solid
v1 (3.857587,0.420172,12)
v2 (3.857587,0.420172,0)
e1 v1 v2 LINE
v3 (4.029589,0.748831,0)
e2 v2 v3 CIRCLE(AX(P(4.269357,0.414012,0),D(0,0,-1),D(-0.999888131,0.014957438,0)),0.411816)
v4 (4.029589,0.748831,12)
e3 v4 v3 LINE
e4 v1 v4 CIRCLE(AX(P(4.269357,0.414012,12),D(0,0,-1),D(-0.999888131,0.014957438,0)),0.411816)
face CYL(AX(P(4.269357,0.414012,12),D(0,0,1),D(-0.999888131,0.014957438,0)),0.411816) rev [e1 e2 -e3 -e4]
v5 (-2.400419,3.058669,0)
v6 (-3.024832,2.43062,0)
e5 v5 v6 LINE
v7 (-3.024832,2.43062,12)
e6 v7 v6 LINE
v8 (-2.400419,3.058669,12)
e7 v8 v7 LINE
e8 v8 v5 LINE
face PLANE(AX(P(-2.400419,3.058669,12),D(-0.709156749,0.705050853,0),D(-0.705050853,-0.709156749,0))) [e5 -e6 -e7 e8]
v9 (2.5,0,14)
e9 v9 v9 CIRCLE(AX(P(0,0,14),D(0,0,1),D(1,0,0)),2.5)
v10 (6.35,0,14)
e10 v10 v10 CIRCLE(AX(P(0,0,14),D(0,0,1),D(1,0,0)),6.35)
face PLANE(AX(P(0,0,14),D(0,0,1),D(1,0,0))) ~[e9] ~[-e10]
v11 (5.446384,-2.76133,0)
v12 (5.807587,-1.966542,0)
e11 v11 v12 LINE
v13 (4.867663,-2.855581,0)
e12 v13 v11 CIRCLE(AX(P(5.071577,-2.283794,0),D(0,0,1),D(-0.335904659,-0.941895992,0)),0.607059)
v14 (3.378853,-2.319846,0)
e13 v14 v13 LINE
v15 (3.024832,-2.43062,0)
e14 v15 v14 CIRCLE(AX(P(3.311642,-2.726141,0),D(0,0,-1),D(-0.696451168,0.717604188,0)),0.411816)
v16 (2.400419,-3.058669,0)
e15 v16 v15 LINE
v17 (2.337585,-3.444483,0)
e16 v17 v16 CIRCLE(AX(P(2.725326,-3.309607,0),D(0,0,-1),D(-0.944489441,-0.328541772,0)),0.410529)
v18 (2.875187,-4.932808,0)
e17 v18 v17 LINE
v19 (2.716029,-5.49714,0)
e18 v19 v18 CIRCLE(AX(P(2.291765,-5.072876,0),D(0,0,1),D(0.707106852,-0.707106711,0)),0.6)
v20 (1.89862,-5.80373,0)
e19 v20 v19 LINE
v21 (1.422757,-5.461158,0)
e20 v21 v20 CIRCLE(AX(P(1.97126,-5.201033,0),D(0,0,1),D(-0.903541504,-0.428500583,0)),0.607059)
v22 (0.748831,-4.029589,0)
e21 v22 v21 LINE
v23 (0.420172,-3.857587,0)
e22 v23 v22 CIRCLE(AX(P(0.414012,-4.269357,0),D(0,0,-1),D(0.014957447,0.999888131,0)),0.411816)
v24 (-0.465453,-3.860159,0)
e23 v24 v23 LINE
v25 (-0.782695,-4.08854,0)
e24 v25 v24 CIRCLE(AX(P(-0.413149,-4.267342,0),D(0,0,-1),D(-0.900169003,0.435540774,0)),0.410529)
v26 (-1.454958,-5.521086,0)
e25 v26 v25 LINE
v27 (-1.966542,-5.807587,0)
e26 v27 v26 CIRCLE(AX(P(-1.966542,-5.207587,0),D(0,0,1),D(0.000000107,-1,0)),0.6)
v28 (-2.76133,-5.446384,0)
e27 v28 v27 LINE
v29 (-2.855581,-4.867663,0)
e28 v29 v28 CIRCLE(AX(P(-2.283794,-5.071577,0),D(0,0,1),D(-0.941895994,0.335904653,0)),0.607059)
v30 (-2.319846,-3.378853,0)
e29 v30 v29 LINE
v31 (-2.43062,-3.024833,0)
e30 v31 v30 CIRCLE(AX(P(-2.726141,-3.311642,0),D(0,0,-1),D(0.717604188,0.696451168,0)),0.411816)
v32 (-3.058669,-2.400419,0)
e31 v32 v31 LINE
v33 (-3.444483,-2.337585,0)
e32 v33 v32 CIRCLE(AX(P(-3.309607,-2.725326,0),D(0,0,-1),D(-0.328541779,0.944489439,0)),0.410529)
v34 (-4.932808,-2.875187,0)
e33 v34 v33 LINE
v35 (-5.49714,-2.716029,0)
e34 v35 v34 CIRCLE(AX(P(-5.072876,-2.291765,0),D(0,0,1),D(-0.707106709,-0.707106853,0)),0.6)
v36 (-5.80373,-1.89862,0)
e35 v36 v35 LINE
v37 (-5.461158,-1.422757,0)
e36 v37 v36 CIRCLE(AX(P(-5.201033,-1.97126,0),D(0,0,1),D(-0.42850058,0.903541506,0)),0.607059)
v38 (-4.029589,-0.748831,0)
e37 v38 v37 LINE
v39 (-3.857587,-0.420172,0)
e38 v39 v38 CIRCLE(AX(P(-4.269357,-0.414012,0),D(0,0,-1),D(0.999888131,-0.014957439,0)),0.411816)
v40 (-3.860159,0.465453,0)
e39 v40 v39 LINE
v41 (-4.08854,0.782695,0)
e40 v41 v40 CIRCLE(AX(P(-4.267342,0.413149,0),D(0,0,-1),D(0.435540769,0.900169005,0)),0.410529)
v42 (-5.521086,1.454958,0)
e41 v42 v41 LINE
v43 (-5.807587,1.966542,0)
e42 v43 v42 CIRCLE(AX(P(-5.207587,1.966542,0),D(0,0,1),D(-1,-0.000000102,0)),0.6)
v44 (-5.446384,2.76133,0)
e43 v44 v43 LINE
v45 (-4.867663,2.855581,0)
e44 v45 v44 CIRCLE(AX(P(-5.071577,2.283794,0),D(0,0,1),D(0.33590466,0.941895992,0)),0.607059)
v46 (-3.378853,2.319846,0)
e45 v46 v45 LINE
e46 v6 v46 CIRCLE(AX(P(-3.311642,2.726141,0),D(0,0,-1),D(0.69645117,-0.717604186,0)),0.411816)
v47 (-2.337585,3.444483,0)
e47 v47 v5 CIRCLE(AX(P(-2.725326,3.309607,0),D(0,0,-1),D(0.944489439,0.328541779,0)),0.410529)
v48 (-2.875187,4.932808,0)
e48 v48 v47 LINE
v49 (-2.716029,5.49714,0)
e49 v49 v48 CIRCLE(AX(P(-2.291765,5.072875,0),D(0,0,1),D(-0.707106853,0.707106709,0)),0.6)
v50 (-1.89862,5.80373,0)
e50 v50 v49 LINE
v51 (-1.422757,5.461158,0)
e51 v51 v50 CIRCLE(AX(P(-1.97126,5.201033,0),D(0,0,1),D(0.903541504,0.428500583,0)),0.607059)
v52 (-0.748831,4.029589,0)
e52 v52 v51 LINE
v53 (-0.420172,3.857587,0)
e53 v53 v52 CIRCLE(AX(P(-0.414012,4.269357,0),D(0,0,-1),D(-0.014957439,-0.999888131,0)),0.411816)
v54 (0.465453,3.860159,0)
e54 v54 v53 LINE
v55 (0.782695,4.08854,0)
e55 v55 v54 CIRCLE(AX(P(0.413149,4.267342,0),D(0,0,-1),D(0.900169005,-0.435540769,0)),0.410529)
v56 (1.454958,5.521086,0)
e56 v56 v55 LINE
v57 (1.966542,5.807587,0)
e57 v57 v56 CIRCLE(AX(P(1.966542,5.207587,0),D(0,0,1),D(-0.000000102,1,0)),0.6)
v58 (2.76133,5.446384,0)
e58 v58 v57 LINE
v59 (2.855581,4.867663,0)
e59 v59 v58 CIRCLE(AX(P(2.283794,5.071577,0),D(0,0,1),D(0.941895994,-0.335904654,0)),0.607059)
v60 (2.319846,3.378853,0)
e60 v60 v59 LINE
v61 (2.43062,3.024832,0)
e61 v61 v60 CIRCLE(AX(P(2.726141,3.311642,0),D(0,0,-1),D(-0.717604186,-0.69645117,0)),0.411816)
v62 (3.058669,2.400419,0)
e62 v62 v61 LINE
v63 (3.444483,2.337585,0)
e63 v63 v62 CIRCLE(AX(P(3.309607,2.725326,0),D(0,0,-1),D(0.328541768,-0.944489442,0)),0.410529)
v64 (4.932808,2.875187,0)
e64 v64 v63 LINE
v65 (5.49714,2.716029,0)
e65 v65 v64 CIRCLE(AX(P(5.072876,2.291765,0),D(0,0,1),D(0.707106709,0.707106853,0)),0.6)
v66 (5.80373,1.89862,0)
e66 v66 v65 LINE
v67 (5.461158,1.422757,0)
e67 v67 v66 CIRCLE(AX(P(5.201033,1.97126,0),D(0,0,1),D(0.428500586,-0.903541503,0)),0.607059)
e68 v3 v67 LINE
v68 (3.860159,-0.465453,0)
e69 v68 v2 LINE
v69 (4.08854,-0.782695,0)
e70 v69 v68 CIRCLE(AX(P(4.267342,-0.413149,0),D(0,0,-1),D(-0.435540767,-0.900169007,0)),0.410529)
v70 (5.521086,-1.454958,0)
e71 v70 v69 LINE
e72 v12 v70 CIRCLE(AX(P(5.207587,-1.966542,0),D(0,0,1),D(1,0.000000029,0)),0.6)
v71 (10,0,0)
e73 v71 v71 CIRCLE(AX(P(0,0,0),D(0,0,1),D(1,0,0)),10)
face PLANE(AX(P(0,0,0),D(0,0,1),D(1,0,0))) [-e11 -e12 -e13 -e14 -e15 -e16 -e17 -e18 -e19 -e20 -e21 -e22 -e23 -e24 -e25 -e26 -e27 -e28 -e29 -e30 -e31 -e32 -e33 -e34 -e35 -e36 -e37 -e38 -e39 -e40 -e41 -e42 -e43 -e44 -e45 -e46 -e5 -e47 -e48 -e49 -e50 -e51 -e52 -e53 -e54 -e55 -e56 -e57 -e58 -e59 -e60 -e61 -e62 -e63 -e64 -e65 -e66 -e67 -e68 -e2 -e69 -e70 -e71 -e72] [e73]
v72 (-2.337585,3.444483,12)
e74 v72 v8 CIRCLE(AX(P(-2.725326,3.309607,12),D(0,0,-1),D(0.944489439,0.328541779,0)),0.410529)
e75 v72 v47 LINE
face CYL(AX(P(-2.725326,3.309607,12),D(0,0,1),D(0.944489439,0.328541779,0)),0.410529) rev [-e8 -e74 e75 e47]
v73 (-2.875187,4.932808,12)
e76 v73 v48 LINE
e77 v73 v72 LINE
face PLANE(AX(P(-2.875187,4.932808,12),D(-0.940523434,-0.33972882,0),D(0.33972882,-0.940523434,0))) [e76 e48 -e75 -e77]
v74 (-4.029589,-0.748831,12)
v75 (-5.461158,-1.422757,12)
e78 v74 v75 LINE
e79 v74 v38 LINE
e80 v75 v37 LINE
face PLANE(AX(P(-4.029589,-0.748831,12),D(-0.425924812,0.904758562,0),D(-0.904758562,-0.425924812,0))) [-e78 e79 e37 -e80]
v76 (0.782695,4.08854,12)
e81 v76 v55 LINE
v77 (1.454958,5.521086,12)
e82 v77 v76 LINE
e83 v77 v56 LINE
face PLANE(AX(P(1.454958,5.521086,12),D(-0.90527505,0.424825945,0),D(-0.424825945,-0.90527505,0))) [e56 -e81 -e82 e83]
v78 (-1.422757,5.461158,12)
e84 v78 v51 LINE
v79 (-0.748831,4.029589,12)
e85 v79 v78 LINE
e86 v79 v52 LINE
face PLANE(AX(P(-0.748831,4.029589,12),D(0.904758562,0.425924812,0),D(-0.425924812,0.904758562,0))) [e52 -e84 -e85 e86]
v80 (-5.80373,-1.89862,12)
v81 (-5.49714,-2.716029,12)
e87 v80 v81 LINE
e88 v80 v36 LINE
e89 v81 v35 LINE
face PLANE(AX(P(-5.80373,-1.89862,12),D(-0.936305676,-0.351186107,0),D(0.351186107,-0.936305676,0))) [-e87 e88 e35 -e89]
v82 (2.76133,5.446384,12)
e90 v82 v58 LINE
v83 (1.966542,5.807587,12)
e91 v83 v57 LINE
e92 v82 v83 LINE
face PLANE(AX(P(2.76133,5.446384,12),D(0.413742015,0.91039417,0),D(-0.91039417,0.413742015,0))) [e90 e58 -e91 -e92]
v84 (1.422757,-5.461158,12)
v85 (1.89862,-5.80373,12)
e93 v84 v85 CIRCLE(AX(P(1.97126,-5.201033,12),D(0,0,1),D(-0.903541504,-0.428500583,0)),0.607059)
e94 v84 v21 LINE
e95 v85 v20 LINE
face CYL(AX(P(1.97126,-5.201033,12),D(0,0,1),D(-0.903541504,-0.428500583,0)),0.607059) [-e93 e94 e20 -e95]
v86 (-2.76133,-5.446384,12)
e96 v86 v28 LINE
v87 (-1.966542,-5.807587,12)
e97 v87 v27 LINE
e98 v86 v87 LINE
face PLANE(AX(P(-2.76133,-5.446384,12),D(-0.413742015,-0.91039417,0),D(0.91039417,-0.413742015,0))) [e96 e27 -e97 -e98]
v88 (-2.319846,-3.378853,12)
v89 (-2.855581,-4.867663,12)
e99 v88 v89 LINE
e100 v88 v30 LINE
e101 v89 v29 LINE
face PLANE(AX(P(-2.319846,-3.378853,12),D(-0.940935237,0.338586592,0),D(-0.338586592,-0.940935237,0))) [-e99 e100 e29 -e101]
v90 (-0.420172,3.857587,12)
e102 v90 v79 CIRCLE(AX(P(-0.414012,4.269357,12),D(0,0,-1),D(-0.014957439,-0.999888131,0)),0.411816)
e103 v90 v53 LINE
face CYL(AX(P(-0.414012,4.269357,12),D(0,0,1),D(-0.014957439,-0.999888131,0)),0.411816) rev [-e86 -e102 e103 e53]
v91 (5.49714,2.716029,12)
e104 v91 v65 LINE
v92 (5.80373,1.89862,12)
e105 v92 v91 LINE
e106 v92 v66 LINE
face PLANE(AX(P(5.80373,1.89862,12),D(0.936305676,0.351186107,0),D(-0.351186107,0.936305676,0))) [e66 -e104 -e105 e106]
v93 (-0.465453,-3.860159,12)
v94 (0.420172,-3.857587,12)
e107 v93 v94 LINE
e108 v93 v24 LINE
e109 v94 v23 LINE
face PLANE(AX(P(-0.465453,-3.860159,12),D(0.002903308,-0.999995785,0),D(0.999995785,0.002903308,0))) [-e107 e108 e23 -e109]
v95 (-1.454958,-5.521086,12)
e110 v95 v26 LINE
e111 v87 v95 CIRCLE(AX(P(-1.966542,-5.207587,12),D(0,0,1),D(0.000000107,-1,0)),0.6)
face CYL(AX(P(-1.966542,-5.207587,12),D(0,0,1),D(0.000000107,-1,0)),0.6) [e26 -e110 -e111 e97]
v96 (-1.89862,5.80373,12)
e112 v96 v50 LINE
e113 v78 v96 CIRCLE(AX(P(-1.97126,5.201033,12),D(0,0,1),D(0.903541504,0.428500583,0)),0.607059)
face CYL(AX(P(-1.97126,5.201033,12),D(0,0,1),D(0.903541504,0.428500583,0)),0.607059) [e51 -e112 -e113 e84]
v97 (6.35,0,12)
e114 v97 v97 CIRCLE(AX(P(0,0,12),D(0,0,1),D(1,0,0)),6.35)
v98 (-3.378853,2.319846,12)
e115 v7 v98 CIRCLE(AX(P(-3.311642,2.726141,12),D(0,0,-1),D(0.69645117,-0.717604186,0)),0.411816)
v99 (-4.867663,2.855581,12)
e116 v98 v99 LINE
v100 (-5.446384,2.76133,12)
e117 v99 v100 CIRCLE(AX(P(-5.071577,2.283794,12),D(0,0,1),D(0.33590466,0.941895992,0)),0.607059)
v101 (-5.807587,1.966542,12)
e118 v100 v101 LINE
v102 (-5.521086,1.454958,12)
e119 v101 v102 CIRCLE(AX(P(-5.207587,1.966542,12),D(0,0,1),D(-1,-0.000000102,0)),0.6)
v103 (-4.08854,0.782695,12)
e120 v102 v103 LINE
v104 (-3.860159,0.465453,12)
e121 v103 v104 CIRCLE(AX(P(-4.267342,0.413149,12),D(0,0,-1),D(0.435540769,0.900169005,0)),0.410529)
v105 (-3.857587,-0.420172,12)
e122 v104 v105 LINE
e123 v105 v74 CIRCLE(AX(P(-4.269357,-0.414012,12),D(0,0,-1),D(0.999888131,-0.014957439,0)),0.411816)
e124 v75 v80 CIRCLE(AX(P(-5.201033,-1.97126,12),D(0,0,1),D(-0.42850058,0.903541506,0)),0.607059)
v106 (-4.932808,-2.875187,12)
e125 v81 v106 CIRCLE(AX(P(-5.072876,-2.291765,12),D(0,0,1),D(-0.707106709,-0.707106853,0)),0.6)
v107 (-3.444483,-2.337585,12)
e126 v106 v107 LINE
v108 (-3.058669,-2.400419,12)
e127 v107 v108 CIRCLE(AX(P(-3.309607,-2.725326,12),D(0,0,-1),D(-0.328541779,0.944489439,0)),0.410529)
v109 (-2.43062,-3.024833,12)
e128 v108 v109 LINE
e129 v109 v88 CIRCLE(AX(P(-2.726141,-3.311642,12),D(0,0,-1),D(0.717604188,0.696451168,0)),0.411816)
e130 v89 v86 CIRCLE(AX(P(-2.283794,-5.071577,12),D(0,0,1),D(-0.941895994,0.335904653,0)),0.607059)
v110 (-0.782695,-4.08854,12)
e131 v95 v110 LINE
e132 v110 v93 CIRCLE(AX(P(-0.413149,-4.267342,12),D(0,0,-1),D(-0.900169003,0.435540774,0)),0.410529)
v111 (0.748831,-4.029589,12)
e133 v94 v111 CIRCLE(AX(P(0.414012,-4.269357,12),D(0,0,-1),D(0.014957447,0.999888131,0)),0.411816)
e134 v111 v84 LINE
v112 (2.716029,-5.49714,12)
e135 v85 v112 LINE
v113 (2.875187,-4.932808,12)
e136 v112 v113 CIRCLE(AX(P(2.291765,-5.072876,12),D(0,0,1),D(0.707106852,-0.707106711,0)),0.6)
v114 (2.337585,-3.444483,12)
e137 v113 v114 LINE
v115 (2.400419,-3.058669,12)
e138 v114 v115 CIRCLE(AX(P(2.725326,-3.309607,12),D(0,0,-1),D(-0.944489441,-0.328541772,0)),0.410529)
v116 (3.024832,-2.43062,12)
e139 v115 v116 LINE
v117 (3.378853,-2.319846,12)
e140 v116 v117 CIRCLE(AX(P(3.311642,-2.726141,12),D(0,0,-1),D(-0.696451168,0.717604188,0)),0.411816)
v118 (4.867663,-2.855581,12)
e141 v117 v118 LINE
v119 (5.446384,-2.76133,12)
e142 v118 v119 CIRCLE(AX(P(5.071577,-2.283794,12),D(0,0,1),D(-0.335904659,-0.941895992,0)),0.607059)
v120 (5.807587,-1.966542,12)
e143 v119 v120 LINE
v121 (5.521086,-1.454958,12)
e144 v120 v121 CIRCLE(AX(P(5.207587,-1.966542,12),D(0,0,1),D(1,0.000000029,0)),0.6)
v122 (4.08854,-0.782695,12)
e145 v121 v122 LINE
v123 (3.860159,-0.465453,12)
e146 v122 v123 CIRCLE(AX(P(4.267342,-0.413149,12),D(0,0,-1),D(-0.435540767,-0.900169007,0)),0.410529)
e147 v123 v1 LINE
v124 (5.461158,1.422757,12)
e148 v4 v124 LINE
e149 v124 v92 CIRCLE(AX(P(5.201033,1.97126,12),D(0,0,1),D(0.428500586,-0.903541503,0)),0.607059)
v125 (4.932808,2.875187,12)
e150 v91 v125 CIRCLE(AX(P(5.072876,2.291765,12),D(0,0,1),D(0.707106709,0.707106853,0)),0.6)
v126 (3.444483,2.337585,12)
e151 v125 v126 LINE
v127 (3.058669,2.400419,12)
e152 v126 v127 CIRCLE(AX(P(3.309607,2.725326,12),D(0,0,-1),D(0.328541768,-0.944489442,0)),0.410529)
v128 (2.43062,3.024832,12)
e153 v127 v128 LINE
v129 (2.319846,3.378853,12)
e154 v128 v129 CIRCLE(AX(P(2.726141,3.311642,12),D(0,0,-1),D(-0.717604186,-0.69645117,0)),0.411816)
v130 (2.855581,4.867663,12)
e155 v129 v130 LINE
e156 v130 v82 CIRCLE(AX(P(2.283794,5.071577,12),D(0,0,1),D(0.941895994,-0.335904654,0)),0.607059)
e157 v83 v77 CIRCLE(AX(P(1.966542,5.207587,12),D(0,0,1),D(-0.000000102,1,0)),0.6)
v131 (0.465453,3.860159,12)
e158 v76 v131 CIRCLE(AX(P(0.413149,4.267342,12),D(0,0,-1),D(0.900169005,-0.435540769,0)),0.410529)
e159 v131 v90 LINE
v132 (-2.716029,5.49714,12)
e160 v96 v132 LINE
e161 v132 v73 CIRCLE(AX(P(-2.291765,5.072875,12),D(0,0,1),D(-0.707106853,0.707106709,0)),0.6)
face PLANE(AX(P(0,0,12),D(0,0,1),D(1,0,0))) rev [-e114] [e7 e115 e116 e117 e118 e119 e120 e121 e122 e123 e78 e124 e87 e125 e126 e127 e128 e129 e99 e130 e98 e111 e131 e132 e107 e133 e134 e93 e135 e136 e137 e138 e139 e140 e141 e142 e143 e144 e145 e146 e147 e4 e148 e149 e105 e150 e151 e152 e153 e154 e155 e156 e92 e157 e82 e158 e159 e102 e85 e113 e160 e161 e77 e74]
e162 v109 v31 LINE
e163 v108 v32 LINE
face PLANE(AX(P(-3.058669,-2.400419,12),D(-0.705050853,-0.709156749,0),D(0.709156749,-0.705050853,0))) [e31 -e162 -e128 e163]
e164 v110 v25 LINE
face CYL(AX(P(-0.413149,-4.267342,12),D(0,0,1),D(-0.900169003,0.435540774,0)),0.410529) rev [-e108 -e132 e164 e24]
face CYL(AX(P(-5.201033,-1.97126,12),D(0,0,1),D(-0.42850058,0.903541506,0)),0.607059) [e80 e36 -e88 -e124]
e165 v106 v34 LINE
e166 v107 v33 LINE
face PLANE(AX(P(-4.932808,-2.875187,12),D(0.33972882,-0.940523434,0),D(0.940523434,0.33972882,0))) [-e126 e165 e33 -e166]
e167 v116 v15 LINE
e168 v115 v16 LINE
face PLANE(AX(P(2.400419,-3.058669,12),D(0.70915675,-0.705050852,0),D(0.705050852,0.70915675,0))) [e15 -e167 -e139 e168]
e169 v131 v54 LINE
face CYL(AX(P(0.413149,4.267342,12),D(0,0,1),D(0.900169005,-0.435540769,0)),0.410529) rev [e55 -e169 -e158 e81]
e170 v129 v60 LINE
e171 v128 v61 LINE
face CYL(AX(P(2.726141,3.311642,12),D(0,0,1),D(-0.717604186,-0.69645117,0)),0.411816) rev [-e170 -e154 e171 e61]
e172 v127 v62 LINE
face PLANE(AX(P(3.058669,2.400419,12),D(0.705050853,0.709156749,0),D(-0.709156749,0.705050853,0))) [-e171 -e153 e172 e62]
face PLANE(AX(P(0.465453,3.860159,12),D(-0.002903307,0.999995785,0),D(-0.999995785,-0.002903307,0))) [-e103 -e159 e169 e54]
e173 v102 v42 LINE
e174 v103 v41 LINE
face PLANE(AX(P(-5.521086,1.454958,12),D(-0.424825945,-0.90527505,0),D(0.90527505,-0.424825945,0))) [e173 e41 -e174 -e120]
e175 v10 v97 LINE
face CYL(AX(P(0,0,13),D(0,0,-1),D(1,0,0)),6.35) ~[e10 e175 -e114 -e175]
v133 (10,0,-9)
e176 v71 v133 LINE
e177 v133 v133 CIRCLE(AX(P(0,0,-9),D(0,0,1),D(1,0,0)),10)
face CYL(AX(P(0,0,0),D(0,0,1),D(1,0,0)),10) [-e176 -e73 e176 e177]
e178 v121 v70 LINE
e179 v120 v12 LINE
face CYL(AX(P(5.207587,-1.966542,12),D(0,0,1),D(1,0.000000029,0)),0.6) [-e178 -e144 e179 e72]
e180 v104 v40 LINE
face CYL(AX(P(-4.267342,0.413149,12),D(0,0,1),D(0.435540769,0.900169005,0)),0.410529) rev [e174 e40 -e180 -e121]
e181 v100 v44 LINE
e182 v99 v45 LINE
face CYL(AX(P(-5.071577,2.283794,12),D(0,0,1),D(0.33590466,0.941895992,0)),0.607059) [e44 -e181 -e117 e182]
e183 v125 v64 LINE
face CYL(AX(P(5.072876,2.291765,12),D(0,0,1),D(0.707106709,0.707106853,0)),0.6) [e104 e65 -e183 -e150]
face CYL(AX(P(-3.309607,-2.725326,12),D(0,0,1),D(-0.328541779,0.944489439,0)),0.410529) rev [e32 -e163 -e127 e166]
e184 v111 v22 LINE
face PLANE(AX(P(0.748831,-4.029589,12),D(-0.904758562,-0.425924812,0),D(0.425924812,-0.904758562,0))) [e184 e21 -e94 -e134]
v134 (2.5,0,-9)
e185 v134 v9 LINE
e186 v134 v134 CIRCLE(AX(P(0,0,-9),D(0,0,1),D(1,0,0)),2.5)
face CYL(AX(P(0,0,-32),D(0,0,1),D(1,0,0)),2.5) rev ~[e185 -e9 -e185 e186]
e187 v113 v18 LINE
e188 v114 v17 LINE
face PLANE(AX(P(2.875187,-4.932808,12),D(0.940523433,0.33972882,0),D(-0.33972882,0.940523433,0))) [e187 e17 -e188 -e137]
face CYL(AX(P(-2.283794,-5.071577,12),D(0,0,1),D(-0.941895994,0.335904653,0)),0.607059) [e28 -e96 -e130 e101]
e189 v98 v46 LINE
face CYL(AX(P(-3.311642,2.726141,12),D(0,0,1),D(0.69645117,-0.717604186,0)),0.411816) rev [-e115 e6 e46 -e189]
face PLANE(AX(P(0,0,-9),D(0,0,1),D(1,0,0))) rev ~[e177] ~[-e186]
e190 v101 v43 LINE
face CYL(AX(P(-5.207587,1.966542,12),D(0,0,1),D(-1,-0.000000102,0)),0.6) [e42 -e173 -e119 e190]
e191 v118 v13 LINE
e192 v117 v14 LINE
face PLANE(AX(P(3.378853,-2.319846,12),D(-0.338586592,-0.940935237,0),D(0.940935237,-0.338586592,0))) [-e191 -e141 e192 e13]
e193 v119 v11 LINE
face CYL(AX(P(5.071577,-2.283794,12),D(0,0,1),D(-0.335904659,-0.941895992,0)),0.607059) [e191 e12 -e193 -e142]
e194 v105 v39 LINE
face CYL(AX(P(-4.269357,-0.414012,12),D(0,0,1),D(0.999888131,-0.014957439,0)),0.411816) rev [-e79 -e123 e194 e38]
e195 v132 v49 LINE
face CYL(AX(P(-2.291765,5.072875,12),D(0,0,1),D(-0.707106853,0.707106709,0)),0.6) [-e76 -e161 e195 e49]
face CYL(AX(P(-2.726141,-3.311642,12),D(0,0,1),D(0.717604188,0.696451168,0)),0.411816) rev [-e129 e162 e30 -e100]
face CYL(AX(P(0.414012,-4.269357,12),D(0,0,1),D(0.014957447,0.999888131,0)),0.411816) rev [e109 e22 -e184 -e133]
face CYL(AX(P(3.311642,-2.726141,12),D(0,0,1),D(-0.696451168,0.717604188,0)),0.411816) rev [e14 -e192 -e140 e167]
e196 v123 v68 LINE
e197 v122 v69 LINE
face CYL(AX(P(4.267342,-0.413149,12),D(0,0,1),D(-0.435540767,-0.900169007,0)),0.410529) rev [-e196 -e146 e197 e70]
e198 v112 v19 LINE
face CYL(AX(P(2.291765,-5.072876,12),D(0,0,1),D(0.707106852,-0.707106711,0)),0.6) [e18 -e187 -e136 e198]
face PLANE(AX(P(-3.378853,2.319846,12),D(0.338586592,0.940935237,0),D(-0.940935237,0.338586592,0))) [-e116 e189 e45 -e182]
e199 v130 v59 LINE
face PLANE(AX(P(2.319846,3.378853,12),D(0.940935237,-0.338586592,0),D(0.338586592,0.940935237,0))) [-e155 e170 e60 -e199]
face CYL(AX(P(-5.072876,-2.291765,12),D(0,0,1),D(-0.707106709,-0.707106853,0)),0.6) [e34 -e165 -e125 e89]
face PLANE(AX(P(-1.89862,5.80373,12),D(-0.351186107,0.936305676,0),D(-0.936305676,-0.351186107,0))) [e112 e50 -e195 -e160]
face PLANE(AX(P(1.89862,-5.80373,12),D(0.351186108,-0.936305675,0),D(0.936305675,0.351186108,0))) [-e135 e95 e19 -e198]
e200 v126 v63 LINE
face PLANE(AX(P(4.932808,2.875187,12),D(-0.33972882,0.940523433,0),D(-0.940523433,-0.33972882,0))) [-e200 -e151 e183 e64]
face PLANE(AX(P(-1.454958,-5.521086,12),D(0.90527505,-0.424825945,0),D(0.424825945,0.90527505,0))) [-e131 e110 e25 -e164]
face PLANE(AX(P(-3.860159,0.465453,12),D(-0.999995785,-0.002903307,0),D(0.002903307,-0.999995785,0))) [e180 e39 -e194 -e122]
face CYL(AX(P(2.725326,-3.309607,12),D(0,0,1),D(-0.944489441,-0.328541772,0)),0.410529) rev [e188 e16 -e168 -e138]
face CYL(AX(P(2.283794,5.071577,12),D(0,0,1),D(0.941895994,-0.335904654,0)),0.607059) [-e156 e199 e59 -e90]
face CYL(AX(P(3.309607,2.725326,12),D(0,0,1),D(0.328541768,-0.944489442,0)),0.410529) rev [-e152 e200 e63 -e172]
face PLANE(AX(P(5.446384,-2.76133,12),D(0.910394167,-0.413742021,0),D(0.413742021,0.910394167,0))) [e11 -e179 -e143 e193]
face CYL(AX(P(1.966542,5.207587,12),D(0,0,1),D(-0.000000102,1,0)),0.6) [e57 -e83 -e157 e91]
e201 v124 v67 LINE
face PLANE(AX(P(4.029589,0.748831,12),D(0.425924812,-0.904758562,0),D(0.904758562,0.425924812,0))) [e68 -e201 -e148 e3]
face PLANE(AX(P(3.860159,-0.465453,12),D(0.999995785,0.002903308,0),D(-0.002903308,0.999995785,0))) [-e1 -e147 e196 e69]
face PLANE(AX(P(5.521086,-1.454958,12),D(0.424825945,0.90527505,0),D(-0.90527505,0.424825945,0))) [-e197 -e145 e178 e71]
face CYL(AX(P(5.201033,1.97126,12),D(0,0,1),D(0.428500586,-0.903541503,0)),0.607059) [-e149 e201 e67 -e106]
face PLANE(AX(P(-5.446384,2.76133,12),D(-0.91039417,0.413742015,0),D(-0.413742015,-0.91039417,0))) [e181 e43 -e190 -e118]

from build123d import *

# Parameters (mm, degrees)
SKETCH1_W                    = 6.35
SKETCH1_H                    = 2
BOSS_EXTRUDE1_DEPTH          = 12
SKETCH3_R                    = 10
BOSS_EXTRUDE2_DEPTH          = 9
F_5_0_5_DIAMETER_HOLE1_D     = 5
F_5_0_5_DIAMETER_HOLE1_DEPTH = 23


with BuildPart() as part:
    # Sketch1 → Revolve1 (revolve)
    with BuildSketch(Plane(origin=(0, 0, 0), x_dir=(1, 0, 0), z_dir=(0, 1, 0))):
        with Locations((3.175, -13)):
            Rectangle(SKETCH1_W, SKETCH1_H)
    revolve(axis=Axis((0, 0, 12), (0, 0, 1)))

    # Sketch2 → Boss-Extrude1 (add)
    with BuildSketch(Plane(origin=(0, 0, 12), x_dir=(-1, 0, 0), z_dir=(0, 0, -1))):
        with BuildLine():
            Line((-2.875186934, -4.932808292), (-2.337585335, -3.444483277))
            ThreePointArc((-2.337585335, -3.444483277), (-2.320135009, -3.243617805), (-2.400419134, -3.058669404))
            Line((-2.400419134, -3.058669404), (-3.024832437, -2.4306198))
            ThreePointArc((-3.024832437, -2.4306198), (-3.188663853, -2.33311555), (-3.378852537, -2.3198462))
            Line((-3.378852537, -2.3198462), (-4.867663341, -2.855580601))
            ThreePointArc((-4.867663341, -2.855580601), (-5.169157529, -2.882959187), (-5.446384241, -2.761329901))
            Line((-5.446384241, -2.761329901), (-5.807587241, -1.966542116))
            ThreePointArc((-5.807587241, -1.966542116), (-5.731084845, -1.673369369), (-5.521086391, -1.454958001))
            Line((-5.521086391, -1.454958001), (-4.088539945, -0.782695026))
            ThreePointArc((-4.088539945, -0.782695026), (-3.934167363, -0.653000933), (-3.860158544, -0.465453215))
            Line((-3.860158544, -0.465453215), (-3.857587291, 0.420171804))
            ThreePointArc((-3.857587291, 0.420171804), (-3.904487679, 0.604964025), (-4.029588541, 0.748830581))
            Line((-4.029588541, 0.748830581), (-5.461158184, 1.422757368))
            ThreePointArc((-5.461158184, 1.422757368), (-5.693706352, 1.61658637), (-5.803730347, 1.89862015))
            Line((-5.803730347, 1.89862015), (-5.497139595, 2.716029083))
            ThreePointArc((-5.497139595, 2.716029083), (-5.235739777, 2.86923814), (-4.93280828, 2.875186941))
            Line((-4.93280828, 2.875186941), (-3.444483265, 2.337585342))
            ThreePointArc((-3.444483265, 2.337585342), (-3.243617793, 2.320135016), (-3.058669391, 2.40041914))
            Line((-3.058669391, 2.40041914), (-2.430619781, 3.024832451))
            ThreePointArc((-2.430619781, 3.024832451), (-2.333115531, 3.188663866), (-2.319846181, 3.378852551))
            Line((-2.319846181, 3.378852551), (-2.855580582, 4.867663354))
            ThreePointArc((-2.855580582, 4.867663354), (-2.882959167, 5.169157543), (-2.761329882, 5.446384254))
            Line((-2.761329882, 5.446384254), (-1.966542082, 5.807587254))
            ThreePointArc((-1.966542082, 5.807587254), (-1.673369335, 5.731084833), (-1.454957982, 5.521086354))
            Line((-1.454957982, 5.521086354), (-0.782695007, 4.088539908))
            ThreePointArc((-0.782695007, 4.088539908), (-0.653000914, 3.934167326), (-0.465453196, 3.860158506))
            Line((-0.465453196, 3.860158506), (0.420171836, 3.857587254))
            ThreePointArc((0.420171836, 3.857587254), (0.604964057, 3.904487642), (0.748830613, 4.029588503))
            Line((0.748830613, 4.029588503), (1.4227574, 5.461158146))
            ThreePointArc((1.4227574, 5.461158146), (1.616586402, 5.693706315), (1.898620182, 5.80373031))
            Line((1.898620182, 5.80373031), (2.716029116, 5.497139558))
            ThreePointArc((2.716029116, 5.497139558), (2.869238173, 5.235739739), (2.875186973, 4.932808242))
            Line((2.875186973, 4.932808242), (2.337585375, 3.444483227))
            ThreePointArc((2.337585375, 3.444483227), (2.320135048, 3.243617755), (2.400419173, 3.058669354))
            Line((2.400419173, 3.058669354), (3.024832497, 2.43061973))
            ThreePointArc((3.024832497, 2.43061973), (3.188663912, 2.33311548), (3.378852597, 2.31984613))
            Line((3.378852597, 2.31984613), (4.8676634, 2.855580531))
            ThreePointArc((4.8676634, 2.855580531), (5.169157589, 2.882959117), (5.4463843, 2.761329831))
            Line((5.4463843, 2.761329831), (5.8075873, 1.966542031))
            ThreePointArc((5.8075873, 1.966542031), (5.731084879, 1.673369284), (5.5210864, 1.454957931))
            Line((5.5210864, 1.454957931), (4.088539954, 0.782694956))
            ThreePointArc((4.088539954, 0.782694956), (3.934167372, 0.653000863), (3.860158552, 0.465453145))
            Line((3.860158552, 0.465453145), (3.8575873, -0.420171864))
            ThreePointArc((3.8575873, -0.420171864), (3.904487688, -0.604964085), (4.029588549, -0.748830641))
            Line((4.029588549, -0.748830641), (5.461158192, -1.422757428))
            ThreePointArc((5.461158192, -1.422757428), (5.693706361, -1.616586429), (5.803730356, -1.898620209))
            Line((5.803730356, -1.898620209), (5.497139604, -2.716029143))
            ThreePointArc((5.497139604, -2.716029143), (5.235739785, -2.8692382), (4.932808288, -2.875187))
            Line((4.932808288, -2.875187), (3.444483273, -2.337585402))
            ThreePointArc((3.444483273, -2.337585402), (3.243617801, -2.320135075), (3.0586694, -2.4004192))
            Line((3.0586694, -2.4004192), (2.4306198, -3.0248325))
            ThreePointArc((2.4306198, -3.0248325), (2.33311555, -3.188663916), (2.3198462, -3.3788526))
            Line((2.3198462, -3.3788526), (2.855580601, -4.867663404))
            ThreePointArc((2.855580601, -4.867663404), (2.882959186, -5.169157592), (2.761329901, -5.446384304))
            Line((2.761329901, -5.446384304), (1.966542101, -5.807587304))
            ThreePointArc((1.966542101, -5.807587304), (1.673369354, -5.731084882), (1.454958001, -5.521086404))
            Line((1.454958001, -5.521086404), (0.782695026, -4.088539957))
            ThreePointArc((0.782695026, -4.088539957), (0.653000933, -3.934167376), (0.465453215, -3.860158556))
            Line((0.465453215, -3.860158556), (-0.420171797, -3.857587303))
            ThreePointArc((-0.420171797, -3.857587303), (-0.604964018, -3.904487692), (-0.748830574, -4.029588553))
            Line((-0.748830574, -4.029588553), (-1.422757361, -5.461158196))
            ThreePointArc((-1.422757361, -5.461158196), (-1.616586363, -5.693706365), (-1.898620143, -5.80373036))
            Line((-1.898620143, -5.80373036), (-2.716029077, -5.497139607))
            ThreePointArc((-2.716029077, -5.497139607), (-2.869238134, -5.235739789), (-2.875186934, -4.932808292))
        make_face()
    extrude(amount=BOSS_EXTRUDE1_DEPTH)

    # Sketch3 → Boss-Extrude2 (add)
    with BuildSketch(Plane.XY):
        Circle(SKETCH3_R)
    extrude(amount=-BOSS_EXTRUDE2_DEPTH)

    # Ø5.0 (5) Diameter Hole1
    with Locations(Plane(origin=(0, 0, -9), x_dir=(-1, 0, 0), z_dir=(0, 0, -1))):
        with Locations((0, 0)):
            Hole(F_5_0_5_DIAMETER_HOLE1_D / 2, depth=F_5_0_5_DIAMETER_HOLE1_DEPTH)


solid = part.part
